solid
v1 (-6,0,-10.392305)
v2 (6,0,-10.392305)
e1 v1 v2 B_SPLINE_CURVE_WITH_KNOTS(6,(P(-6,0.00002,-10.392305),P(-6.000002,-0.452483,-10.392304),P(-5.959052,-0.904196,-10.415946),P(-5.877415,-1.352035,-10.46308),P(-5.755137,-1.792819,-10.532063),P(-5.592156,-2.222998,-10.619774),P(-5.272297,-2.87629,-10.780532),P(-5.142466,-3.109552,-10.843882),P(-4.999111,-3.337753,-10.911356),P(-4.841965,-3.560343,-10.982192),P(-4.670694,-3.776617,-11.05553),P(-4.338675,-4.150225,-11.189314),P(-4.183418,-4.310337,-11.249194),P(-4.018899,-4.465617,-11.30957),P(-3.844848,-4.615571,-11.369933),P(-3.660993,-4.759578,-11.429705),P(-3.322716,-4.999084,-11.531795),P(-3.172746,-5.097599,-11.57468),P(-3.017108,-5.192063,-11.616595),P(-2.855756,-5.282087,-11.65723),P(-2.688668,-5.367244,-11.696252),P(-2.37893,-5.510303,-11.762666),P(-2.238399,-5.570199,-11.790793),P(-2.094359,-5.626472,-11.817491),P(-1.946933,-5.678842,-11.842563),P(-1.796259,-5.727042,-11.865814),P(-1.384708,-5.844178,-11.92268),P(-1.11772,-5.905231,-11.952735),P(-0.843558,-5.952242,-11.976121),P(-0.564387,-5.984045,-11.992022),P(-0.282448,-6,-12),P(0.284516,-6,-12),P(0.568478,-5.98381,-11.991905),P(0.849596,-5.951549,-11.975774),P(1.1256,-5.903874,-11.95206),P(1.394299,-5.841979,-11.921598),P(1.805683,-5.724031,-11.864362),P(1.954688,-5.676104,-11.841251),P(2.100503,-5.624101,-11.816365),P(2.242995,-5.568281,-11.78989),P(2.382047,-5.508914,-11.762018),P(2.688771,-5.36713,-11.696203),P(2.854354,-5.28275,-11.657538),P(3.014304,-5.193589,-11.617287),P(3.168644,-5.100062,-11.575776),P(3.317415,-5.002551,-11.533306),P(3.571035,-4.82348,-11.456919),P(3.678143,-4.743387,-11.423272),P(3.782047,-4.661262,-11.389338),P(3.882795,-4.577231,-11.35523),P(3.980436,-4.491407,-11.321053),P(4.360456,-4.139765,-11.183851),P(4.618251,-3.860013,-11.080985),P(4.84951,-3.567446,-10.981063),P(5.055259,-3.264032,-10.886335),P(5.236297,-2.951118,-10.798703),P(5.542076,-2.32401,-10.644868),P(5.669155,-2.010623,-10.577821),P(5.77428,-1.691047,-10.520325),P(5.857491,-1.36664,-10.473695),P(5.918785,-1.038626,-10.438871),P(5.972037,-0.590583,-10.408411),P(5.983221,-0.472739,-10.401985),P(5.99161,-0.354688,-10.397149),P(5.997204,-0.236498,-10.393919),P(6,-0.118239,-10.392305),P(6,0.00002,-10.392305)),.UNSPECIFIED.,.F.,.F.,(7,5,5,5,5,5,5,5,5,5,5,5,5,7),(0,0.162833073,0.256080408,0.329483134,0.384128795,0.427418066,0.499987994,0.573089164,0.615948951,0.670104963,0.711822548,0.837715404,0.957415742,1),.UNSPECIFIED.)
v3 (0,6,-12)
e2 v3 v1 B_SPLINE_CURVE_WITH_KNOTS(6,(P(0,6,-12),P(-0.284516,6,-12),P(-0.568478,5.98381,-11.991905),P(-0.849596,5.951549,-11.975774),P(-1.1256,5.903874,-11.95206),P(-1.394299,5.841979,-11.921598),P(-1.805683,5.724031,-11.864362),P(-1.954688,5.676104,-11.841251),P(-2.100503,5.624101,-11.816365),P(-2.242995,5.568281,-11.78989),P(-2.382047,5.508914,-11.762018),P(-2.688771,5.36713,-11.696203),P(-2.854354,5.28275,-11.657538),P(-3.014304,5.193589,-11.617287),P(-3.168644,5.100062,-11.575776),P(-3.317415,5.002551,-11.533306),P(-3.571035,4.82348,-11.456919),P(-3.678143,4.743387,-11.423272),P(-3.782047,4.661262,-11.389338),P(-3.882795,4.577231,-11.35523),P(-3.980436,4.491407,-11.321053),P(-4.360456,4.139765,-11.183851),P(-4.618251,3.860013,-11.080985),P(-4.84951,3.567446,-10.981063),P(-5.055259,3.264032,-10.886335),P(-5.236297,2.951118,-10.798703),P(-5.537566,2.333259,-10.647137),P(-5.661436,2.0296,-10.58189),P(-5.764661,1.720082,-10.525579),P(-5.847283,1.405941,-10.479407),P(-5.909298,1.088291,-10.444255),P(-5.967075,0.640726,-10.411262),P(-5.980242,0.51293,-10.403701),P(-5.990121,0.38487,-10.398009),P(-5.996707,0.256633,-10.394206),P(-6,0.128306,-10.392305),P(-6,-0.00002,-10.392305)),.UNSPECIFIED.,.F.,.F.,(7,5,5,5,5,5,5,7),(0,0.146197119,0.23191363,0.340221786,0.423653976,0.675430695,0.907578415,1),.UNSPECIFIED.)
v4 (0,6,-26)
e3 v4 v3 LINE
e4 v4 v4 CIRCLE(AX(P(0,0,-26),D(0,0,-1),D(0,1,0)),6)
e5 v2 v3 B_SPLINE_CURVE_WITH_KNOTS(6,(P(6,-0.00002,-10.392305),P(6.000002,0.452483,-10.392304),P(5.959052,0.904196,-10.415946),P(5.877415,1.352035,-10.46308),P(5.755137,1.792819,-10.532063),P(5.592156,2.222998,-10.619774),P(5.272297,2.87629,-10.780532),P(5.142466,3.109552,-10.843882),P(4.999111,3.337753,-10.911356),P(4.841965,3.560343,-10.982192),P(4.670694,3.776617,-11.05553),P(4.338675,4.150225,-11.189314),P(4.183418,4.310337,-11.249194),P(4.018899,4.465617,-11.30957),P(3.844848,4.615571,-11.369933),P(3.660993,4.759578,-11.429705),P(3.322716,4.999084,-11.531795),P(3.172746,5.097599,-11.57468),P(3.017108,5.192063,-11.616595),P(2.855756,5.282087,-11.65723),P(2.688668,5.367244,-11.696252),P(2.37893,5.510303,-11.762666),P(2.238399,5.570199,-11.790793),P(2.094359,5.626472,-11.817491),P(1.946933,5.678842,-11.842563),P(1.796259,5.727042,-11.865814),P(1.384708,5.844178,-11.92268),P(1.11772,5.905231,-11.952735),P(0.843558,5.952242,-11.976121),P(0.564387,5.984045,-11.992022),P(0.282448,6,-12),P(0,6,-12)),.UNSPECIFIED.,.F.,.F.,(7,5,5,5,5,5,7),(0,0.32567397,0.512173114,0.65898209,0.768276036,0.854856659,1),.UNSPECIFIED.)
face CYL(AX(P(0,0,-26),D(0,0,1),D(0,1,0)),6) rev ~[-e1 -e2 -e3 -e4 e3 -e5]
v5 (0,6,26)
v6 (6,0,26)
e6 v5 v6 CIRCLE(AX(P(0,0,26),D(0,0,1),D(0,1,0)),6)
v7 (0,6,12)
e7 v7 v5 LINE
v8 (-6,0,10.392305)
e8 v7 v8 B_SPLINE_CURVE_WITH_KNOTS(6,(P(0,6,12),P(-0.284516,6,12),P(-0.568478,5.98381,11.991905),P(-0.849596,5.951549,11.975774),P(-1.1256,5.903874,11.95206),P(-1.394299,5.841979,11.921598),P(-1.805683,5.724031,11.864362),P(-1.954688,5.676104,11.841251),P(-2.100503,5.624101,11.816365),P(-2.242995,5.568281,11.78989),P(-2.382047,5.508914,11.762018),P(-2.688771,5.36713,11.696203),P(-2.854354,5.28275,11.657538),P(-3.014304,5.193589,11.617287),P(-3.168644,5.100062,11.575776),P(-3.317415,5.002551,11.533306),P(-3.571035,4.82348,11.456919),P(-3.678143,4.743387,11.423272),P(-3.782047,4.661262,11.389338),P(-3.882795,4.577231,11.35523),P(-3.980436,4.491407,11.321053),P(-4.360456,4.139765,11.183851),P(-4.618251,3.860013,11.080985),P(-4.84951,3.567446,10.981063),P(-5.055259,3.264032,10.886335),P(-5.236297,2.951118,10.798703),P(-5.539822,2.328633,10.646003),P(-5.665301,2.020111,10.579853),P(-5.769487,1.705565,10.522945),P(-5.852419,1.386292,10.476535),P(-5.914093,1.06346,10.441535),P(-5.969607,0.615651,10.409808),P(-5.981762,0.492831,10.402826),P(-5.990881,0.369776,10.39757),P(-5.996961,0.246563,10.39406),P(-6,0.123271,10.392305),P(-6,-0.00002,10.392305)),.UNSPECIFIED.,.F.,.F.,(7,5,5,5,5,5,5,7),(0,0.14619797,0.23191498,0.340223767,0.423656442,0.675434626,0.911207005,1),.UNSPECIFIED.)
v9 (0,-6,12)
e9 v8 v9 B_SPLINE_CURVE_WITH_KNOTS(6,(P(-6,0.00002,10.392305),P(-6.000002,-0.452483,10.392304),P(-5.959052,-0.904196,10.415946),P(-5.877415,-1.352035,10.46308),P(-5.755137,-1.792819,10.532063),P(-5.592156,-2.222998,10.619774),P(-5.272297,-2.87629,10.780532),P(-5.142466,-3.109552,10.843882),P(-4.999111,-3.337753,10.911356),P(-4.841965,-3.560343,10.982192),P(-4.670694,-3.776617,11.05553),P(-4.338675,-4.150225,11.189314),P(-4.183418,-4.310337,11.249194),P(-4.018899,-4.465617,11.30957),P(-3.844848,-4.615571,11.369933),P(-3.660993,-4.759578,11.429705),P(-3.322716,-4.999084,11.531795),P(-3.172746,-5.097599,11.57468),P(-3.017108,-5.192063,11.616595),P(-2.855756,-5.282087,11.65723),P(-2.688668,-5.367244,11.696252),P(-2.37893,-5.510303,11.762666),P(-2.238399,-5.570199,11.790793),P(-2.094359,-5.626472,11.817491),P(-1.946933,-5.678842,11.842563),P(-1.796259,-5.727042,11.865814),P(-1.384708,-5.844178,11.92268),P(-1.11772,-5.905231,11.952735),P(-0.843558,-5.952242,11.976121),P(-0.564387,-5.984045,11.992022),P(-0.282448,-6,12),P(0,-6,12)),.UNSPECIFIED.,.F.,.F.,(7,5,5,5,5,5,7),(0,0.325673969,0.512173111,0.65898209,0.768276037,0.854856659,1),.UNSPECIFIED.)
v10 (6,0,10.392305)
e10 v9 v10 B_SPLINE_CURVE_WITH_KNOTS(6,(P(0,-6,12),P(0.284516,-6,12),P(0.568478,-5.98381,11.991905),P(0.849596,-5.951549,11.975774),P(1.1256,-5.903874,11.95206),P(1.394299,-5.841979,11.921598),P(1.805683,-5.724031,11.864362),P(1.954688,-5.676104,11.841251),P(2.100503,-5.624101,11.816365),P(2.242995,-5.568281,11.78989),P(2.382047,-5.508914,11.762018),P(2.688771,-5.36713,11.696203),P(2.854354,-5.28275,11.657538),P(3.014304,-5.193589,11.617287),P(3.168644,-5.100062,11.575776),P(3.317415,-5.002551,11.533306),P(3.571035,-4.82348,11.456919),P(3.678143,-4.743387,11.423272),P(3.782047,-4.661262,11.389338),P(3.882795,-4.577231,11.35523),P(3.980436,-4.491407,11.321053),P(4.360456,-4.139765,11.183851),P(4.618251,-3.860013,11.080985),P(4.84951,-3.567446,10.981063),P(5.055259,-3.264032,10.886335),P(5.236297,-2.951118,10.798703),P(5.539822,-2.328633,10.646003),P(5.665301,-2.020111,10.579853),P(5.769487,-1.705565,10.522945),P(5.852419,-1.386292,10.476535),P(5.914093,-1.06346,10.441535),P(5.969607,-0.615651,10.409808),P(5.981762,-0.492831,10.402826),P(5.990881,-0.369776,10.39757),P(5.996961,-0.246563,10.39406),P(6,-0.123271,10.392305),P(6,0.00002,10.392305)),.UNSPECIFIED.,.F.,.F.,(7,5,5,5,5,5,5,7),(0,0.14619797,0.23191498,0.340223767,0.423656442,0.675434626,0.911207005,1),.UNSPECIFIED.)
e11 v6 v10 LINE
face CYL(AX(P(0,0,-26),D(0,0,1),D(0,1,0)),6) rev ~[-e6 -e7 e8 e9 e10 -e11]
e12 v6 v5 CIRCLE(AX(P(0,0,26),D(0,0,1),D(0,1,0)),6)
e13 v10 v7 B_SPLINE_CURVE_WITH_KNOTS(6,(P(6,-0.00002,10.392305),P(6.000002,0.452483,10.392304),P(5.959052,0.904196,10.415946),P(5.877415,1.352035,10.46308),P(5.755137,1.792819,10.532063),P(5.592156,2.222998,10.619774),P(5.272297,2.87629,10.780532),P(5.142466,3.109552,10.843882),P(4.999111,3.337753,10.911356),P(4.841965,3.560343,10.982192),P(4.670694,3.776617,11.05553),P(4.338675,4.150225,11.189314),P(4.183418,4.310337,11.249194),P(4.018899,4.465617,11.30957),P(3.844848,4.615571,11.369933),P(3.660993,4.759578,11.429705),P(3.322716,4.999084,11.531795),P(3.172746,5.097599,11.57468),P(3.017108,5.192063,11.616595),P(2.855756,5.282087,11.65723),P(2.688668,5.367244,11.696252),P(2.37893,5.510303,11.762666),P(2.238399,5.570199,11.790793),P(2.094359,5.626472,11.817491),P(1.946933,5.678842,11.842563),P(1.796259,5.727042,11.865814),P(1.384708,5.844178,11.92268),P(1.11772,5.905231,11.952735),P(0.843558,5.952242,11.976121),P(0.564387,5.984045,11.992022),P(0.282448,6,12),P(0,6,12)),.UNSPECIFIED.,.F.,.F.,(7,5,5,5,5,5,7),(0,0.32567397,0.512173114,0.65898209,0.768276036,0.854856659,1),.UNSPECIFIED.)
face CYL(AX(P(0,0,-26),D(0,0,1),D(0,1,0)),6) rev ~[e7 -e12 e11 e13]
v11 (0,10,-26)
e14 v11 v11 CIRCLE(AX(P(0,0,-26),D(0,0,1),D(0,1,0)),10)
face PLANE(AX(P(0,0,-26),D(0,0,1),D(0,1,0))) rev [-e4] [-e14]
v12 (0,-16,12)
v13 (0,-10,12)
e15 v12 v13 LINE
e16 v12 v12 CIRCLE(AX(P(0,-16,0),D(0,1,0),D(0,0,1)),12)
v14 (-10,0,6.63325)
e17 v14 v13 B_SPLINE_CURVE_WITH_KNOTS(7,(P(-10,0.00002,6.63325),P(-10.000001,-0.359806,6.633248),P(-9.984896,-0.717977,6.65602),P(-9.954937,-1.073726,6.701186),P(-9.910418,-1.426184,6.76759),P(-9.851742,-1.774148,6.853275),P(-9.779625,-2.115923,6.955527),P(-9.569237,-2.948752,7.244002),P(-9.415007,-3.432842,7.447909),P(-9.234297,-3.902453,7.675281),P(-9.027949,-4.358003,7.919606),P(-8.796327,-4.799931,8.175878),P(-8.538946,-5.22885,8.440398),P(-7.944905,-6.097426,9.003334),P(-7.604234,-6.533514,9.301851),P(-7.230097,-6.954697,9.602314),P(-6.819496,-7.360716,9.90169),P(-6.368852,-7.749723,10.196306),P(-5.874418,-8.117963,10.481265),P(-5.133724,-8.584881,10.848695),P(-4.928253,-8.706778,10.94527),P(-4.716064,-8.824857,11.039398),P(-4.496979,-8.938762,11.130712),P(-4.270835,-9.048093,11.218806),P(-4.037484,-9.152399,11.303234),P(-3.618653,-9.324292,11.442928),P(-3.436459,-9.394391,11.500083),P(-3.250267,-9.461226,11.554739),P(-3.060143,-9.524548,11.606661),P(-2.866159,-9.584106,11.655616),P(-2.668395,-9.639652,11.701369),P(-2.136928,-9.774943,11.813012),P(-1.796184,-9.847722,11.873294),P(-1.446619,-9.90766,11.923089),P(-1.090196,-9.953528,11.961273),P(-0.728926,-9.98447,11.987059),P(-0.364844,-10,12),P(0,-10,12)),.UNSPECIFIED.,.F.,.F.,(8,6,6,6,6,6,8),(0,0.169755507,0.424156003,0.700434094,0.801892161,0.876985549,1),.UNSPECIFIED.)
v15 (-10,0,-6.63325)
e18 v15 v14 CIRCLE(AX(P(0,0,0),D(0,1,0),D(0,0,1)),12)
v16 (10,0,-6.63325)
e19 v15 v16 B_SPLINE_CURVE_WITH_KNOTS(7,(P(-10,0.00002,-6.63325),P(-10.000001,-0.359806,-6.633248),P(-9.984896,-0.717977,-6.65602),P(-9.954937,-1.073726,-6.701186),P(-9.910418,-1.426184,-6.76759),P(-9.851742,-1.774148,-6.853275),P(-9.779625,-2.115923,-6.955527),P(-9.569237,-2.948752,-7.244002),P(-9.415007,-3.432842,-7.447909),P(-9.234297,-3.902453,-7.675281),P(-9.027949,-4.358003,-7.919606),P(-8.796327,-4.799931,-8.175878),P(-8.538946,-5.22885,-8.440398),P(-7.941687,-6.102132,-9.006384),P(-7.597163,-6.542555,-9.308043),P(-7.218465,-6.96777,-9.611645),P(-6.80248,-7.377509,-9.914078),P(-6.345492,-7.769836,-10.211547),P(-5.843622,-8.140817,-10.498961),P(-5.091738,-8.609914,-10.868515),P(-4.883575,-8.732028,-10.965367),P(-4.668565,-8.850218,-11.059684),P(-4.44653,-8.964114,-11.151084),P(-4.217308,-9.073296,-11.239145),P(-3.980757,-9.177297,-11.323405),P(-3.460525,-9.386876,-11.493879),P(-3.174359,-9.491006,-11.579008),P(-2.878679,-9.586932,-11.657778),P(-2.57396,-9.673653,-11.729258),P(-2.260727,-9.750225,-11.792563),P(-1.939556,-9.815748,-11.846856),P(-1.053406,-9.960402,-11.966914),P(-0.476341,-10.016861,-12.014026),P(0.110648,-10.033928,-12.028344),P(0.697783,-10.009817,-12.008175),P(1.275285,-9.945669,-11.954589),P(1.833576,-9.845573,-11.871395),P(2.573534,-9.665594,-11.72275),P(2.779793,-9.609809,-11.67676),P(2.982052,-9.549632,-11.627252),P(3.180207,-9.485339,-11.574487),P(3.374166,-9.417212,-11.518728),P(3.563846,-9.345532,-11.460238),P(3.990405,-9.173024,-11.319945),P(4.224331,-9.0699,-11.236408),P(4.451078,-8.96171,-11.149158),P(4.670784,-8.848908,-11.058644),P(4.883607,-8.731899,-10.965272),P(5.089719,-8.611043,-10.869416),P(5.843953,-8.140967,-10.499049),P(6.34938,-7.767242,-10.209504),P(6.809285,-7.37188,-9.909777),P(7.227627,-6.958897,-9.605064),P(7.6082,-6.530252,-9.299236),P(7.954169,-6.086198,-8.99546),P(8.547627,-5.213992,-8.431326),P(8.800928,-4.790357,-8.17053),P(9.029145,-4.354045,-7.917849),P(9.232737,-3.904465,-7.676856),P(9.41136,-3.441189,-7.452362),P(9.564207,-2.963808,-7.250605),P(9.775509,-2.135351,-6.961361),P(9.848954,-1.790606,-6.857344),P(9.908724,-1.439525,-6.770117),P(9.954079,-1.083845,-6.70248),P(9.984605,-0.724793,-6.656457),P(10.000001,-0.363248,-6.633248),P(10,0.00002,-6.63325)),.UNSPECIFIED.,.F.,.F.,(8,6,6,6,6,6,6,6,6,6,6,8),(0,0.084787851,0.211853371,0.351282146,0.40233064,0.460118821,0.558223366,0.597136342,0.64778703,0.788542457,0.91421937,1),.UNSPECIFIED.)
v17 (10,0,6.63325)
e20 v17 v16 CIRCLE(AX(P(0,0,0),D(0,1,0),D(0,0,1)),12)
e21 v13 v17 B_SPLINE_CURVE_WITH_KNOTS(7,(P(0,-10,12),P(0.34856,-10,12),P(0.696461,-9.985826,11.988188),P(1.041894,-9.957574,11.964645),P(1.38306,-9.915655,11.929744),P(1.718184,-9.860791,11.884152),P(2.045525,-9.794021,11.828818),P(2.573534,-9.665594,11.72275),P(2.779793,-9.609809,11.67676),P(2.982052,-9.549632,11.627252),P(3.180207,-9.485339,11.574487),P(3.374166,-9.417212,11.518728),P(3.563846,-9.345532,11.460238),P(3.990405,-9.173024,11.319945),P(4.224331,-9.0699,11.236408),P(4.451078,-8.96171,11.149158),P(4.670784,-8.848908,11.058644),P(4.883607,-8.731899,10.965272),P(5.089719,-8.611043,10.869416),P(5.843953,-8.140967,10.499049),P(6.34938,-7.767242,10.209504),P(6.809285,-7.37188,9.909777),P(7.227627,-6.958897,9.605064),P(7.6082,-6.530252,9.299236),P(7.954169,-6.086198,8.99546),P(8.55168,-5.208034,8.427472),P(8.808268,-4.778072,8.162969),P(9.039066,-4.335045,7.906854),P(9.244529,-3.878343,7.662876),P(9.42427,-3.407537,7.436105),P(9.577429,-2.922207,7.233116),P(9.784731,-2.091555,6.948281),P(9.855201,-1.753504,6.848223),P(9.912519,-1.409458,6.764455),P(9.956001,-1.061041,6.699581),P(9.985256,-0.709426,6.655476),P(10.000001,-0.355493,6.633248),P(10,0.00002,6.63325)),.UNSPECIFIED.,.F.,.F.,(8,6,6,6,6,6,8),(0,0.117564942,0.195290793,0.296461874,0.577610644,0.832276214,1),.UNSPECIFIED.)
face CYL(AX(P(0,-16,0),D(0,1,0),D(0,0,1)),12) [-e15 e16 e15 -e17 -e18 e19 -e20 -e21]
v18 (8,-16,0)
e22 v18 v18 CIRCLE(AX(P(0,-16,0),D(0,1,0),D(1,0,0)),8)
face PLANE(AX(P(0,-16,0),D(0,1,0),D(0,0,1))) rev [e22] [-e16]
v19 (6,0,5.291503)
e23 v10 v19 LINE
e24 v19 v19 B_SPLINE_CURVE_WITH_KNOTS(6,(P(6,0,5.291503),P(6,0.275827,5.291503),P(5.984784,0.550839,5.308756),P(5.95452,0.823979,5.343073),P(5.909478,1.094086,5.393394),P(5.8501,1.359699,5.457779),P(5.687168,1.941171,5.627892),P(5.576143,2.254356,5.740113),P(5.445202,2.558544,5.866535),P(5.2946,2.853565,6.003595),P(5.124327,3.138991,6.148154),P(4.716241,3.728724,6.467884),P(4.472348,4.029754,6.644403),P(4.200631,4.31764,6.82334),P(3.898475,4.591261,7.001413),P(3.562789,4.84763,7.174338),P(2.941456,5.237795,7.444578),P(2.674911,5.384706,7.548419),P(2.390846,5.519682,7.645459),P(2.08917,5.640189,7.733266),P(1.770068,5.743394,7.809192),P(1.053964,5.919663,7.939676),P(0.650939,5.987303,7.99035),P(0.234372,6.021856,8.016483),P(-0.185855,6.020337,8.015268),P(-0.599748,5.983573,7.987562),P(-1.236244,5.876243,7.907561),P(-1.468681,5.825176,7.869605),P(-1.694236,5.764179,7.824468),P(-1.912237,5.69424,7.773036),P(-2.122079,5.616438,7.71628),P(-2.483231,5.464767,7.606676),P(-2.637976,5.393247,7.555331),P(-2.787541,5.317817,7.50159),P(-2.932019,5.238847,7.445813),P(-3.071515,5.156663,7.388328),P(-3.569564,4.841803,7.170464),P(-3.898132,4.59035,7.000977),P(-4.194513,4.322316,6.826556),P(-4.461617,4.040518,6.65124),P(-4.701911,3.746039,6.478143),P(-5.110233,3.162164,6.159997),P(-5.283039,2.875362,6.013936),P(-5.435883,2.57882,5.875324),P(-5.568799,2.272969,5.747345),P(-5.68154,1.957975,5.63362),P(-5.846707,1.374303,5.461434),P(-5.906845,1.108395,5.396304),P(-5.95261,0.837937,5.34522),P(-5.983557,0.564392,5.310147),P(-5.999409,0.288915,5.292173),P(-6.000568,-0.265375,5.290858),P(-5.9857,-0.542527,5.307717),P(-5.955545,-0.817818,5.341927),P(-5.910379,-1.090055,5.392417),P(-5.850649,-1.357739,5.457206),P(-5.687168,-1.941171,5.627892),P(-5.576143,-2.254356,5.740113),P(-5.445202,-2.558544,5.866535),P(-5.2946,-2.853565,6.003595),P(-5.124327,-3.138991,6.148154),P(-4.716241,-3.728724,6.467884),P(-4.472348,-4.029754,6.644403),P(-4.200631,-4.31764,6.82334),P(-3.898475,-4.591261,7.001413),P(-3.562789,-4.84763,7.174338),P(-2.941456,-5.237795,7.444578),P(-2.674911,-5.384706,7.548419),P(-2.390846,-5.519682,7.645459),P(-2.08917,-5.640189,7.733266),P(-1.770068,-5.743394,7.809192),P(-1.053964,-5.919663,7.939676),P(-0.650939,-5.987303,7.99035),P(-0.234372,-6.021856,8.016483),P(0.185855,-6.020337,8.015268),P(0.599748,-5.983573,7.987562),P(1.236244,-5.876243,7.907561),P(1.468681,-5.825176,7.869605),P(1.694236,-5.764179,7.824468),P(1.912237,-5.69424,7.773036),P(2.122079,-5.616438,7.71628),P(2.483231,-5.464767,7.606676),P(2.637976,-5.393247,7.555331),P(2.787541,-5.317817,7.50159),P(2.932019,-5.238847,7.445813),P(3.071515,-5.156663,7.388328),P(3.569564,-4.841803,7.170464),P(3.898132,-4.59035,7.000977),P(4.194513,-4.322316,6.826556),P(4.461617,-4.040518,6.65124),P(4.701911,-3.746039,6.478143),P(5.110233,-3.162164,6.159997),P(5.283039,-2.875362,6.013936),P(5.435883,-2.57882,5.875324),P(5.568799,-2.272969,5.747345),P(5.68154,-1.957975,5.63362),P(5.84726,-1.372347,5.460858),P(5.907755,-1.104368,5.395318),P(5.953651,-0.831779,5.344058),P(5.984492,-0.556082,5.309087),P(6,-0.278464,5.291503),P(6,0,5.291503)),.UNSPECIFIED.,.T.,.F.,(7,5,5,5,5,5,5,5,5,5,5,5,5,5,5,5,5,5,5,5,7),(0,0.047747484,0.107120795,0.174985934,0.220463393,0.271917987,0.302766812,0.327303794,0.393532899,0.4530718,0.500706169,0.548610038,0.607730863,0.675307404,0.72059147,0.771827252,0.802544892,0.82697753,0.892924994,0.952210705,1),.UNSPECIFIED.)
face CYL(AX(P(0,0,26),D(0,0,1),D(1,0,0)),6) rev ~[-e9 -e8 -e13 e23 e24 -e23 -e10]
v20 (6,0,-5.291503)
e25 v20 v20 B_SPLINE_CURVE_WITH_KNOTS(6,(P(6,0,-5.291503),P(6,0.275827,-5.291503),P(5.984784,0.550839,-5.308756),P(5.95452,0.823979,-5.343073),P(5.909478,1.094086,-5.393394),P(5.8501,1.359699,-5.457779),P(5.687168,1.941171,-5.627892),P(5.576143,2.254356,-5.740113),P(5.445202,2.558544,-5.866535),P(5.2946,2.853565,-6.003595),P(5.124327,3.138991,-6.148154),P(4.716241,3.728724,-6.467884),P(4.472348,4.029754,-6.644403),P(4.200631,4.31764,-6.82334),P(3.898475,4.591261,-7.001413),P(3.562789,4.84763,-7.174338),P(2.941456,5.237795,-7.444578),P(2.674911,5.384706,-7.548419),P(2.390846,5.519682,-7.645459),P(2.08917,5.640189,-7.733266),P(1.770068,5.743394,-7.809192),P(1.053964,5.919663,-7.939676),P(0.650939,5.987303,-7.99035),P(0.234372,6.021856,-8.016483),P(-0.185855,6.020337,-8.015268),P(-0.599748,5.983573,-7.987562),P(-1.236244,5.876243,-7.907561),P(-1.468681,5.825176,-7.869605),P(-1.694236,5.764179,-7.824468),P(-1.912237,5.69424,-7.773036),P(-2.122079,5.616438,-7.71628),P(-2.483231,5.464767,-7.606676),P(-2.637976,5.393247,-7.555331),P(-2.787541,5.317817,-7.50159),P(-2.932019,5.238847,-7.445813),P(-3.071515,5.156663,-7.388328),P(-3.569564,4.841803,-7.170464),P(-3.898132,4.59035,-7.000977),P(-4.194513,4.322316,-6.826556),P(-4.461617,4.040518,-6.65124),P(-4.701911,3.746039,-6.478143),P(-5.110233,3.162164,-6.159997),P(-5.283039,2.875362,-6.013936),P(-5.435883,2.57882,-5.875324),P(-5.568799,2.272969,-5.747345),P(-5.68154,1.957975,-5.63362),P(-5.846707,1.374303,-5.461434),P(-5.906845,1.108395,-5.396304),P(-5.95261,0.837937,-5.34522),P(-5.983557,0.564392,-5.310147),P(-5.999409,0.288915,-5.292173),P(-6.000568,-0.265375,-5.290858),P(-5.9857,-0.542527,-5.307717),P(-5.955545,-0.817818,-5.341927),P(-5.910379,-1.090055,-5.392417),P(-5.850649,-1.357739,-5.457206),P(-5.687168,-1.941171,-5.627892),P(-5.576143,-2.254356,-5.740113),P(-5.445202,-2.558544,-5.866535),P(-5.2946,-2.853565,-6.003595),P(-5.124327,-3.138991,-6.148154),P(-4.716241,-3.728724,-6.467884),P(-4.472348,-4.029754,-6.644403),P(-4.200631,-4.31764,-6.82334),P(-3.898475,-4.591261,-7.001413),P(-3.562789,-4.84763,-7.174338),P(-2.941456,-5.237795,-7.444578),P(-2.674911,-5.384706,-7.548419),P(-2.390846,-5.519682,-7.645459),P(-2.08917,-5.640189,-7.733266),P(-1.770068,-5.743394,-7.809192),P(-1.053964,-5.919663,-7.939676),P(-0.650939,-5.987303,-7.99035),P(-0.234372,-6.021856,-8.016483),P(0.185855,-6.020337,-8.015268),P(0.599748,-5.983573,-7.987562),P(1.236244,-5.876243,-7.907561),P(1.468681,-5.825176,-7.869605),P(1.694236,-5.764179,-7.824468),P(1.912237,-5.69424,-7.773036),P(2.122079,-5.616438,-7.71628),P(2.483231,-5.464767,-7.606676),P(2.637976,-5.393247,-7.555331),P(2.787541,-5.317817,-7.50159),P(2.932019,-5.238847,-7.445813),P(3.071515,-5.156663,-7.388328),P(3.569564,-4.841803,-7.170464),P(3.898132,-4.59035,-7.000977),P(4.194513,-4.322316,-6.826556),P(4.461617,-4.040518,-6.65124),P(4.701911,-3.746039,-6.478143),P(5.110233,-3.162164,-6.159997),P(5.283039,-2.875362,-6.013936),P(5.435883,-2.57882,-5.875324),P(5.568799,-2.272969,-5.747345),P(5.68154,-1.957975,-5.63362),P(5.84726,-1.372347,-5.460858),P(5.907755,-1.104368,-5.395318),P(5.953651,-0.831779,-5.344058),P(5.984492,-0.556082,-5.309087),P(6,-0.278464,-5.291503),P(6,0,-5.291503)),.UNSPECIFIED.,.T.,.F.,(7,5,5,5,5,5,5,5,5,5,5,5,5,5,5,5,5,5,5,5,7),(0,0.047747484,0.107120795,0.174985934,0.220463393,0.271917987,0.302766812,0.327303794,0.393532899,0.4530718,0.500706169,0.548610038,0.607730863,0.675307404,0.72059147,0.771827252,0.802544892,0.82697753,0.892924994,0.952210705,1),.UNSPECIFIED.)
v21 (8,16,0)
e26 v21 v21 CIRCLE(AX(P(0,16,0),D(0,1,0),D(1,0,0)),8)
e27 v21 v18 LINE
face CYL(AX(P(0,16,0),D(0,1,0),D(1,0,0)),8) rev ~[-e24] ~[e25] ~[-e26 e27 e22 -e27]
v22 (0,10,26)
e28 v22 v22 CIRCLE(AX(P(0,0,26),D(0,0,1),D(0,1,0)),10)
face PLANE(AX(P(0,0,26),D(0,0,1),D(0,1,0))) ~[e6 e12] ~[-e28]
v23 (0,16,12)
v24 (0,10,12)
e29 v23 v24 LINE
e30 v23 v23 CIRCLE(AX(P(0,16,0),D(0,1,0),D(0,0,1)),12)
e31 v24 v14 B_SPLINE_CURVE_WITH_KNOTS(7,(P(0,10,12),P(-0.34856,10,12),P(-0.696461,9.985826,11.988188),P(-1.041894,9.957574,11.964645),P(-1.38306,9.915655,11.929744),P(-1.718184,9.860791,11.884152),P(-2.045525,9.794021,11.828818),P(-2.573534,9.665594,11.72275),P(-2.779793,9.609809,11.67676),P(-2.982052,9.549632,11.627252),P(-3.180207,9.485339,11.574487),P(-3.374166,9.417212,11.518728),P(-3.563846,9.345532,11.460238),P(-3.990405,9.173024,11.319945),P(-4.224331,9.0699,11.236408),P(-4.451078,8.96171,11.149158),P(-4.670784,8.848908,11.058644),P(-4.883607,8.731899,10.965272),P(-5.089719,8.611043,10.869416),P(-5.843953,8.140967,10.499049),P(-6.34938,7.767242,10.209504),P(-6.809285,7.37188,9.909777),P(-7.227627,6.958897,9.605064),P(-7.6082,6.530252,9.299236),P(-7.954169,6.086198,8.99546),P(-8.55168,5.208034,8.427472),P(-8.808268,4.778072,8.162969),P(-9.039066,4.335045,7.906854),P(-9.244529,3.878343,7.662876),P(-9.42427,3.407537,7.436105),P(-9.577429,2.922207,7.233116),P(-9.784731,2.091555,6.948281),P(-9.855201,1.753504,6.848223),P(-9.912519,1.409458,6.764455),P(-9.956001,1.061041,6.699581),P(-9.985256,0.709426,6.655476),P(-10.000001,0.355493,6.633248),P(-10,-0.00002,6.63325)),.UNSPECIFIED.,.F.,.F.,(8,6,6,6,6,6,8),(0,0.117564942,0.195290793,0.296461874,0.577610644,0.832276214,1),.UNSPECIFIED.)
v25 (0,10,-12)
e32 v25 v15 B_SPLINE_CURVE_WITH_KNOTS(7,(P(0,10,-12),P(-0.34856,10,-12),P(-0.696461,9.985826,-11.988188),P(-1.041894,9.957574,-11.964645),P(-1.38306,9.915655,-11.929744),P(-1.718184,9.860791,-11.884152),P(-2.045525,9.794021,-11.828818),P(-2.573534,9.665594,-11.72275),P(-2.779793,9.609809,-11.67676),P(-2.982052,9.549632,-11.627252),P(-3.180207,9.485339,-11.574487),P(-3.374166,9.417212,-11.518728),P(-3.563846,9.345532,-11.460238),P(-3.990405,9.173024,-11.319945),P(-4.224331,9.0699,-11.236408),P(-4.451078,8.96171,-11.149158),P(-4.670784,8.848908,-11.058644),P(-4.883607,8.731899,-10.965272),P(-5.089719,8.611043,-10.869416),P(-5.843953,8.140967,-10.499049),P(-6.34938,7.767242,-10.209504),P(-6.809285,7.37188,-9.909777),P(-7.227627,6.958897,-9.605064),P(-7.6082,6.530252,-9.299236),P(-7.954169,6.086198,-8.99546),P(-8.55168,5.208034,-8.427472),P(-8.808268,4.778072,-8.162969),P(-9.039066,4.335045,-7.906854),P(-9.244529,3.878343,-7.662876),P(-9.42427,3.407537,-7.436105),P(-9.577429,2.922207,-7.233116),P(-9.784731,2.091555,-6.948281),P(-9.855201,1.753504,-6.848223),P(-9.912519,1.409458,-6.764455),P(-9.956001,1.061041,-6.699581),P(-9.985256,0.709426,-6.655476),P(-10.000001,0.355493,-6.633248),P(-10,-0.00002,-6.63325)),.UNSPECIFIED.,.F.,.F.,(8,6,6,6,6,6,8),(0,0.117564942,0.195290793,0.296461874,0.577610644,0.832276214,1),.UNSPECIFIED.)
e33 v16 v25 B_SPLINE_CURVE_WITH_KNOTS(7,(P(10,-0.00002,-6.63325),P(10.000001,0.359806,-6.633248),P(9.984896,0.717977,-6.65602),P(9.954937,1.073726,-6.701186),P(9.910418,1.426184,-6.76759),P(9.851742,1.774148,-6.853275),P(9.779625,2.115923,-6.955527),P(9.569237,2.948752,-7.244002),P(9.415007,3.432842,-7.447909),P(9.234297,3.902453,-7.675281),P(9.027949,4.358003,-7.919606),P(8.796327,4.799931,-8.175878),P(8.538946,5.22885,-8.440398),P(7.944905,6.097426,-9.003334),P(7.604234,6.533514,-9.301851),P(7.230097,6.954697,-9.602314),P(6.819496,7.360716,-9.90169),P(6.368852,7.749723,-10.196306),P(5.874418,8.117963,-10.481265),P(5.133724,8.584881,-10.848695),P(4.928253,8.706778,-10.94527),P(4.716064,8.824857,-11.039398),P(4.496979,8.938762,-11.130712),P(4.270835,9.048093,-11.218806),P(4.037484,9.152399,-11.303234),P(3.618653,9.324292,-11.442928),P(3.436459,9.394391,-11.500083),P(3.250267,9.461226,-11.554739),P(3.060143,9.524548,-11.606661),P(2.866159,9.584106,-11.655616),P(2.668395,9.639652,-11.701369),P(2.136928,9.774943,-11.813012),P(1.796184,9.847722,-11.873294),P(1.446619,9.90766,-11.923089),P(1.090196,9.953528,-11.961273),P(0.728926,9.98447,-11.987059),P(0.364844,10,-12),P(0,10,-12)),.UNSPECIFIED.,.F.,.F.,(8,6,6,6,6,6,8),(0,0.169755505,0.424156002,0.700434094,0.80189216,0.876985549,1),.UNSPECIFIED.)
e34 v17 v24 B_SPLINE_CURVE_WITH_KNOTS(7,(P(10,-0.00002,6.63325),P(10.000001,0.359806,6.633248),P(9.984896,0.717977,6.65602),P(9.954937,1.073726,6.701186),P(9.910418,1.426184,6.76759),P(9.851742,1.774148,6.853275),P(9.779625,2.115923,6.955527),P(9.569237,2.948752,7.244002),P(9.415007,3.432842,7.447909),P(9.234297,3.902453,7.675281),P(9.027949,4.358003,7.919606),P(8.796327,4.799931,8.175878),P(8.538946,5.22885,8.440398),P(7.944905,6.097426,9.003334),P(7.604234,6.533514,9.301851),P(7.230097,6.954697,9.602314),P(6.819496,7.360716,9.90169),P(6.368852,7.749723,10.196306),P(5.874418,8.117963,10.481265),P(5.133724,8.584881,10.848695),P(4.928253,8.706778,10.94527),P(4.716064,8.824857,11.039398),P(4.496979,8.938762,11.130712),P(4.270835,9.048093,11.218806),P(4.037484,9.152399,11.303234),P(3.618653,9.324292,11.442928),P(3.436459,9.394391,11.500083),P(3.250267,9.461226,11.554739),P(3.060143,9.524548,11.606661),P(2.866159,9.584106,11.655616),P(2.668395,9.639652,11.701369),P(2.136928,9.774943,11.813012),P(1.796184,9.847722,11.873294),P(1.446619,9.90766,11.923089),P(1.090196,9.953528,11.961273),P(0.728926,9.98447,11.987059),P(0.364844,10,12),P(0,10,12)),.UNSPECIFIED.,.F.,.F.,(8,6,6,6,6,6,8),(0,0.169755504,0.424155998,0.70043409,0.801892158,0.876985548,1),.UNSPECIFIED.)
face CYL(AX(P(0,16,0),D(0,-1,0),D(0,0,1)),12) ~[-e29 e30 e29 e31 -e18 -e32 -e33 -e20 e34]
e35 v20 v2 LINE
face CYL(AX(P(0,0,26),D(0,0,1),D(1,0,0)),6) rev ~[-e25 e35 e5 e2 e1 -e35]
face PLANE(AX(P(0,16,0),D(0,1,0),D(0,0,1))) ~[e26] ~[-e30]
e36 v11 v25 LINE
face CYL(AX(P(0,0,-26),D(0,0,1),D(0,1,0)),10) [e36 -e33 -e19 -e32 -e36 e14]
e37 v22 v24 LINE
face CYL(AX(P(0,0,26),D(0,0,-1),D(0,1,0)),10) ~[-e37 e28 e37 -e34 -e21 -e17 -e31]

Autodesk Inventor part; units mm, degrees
ref_plane "YZ Plane" through (0, 0, 0) normal (1, 0, 0) x (0, 1, 0)
ref_plane "XZ Plane" through (0, 0, 0) normal (0, 1, 0) x (-1, 0, 0)
ref_plane "XY Plane" through (0, 0, 0) normal (0, 0, 1) x (1, 0, 0)
sketch "Sketch8" plane through (0, 0, 0) normal (1, 0, 0) x (0, 1, 0)
  line L0 (0, 0) -> (0, -26)
  line L1 (0, -26) -> (10, -26)
  line L2 (0, 0) -> (16, 0) construction
  line L3 (10, -26) -> (10, 0)
  line L4 (0, 0) -> (0, 26)
  line L5 (0, 26) -> (10, 26)
  line L6 (10, 26) -> (10, 0)
  line L7 (6, -26) -> (6, 26)
  dimension "d26" = 26
  dimension "d27" = 16
  dimension "d28" = 10
  dimension "d29" = 6
revolve "Revolution1" add sketch "Sketch8" angle 360 about axis through (0, 0, 0) along (0, 0, 1) contours L7 L5 L6 L3 L1
sketch "Sketch9" plane through (0, 0, 0) normal (1, 0, 0) x (0, 1, 0)
  line L0 (0, 0) -> (16, 0)
  line L1 (16, 0) -> (16, 12)
  line L2 (16, 12) -> (0, 12)
  line L3 (0, 12) -> (0, 0)
  line L4 (0, 0) -> (-16, 0)
  line L5 (-16, 0) -> (-16, 12)
  line L6 (-16, 12) -> (0, 12)
  line L7 (0, 12) -> (0, 0)
  dimension "d31" = 16
  dimension "d32" = 16
  dimension "d33" = 12
revolve "Revolution2" add sketch "Sketch9" angle 360 about axis through (0, 0, 0) along (0, 1, 0)
sketch "Sketch10" plane through (0, 16, 0) normal (0, 1, 0) x (1, 0, 0)
  circle A0 centre (0, 0) radius 8
  dimension "d35" = 16
extrude "Extrusion8" cut sketch "Sketch10" against normal through all
sketch "Sketch11" plane through (0, 0, 26) normal (0, 0, 1) x (1, 0, 0)
  circle A0 centre (0, 0) radius 6 projected
extrude "Extrusion9" cut sketch "Sketch11" against normal through all
properties part number "Crank"
